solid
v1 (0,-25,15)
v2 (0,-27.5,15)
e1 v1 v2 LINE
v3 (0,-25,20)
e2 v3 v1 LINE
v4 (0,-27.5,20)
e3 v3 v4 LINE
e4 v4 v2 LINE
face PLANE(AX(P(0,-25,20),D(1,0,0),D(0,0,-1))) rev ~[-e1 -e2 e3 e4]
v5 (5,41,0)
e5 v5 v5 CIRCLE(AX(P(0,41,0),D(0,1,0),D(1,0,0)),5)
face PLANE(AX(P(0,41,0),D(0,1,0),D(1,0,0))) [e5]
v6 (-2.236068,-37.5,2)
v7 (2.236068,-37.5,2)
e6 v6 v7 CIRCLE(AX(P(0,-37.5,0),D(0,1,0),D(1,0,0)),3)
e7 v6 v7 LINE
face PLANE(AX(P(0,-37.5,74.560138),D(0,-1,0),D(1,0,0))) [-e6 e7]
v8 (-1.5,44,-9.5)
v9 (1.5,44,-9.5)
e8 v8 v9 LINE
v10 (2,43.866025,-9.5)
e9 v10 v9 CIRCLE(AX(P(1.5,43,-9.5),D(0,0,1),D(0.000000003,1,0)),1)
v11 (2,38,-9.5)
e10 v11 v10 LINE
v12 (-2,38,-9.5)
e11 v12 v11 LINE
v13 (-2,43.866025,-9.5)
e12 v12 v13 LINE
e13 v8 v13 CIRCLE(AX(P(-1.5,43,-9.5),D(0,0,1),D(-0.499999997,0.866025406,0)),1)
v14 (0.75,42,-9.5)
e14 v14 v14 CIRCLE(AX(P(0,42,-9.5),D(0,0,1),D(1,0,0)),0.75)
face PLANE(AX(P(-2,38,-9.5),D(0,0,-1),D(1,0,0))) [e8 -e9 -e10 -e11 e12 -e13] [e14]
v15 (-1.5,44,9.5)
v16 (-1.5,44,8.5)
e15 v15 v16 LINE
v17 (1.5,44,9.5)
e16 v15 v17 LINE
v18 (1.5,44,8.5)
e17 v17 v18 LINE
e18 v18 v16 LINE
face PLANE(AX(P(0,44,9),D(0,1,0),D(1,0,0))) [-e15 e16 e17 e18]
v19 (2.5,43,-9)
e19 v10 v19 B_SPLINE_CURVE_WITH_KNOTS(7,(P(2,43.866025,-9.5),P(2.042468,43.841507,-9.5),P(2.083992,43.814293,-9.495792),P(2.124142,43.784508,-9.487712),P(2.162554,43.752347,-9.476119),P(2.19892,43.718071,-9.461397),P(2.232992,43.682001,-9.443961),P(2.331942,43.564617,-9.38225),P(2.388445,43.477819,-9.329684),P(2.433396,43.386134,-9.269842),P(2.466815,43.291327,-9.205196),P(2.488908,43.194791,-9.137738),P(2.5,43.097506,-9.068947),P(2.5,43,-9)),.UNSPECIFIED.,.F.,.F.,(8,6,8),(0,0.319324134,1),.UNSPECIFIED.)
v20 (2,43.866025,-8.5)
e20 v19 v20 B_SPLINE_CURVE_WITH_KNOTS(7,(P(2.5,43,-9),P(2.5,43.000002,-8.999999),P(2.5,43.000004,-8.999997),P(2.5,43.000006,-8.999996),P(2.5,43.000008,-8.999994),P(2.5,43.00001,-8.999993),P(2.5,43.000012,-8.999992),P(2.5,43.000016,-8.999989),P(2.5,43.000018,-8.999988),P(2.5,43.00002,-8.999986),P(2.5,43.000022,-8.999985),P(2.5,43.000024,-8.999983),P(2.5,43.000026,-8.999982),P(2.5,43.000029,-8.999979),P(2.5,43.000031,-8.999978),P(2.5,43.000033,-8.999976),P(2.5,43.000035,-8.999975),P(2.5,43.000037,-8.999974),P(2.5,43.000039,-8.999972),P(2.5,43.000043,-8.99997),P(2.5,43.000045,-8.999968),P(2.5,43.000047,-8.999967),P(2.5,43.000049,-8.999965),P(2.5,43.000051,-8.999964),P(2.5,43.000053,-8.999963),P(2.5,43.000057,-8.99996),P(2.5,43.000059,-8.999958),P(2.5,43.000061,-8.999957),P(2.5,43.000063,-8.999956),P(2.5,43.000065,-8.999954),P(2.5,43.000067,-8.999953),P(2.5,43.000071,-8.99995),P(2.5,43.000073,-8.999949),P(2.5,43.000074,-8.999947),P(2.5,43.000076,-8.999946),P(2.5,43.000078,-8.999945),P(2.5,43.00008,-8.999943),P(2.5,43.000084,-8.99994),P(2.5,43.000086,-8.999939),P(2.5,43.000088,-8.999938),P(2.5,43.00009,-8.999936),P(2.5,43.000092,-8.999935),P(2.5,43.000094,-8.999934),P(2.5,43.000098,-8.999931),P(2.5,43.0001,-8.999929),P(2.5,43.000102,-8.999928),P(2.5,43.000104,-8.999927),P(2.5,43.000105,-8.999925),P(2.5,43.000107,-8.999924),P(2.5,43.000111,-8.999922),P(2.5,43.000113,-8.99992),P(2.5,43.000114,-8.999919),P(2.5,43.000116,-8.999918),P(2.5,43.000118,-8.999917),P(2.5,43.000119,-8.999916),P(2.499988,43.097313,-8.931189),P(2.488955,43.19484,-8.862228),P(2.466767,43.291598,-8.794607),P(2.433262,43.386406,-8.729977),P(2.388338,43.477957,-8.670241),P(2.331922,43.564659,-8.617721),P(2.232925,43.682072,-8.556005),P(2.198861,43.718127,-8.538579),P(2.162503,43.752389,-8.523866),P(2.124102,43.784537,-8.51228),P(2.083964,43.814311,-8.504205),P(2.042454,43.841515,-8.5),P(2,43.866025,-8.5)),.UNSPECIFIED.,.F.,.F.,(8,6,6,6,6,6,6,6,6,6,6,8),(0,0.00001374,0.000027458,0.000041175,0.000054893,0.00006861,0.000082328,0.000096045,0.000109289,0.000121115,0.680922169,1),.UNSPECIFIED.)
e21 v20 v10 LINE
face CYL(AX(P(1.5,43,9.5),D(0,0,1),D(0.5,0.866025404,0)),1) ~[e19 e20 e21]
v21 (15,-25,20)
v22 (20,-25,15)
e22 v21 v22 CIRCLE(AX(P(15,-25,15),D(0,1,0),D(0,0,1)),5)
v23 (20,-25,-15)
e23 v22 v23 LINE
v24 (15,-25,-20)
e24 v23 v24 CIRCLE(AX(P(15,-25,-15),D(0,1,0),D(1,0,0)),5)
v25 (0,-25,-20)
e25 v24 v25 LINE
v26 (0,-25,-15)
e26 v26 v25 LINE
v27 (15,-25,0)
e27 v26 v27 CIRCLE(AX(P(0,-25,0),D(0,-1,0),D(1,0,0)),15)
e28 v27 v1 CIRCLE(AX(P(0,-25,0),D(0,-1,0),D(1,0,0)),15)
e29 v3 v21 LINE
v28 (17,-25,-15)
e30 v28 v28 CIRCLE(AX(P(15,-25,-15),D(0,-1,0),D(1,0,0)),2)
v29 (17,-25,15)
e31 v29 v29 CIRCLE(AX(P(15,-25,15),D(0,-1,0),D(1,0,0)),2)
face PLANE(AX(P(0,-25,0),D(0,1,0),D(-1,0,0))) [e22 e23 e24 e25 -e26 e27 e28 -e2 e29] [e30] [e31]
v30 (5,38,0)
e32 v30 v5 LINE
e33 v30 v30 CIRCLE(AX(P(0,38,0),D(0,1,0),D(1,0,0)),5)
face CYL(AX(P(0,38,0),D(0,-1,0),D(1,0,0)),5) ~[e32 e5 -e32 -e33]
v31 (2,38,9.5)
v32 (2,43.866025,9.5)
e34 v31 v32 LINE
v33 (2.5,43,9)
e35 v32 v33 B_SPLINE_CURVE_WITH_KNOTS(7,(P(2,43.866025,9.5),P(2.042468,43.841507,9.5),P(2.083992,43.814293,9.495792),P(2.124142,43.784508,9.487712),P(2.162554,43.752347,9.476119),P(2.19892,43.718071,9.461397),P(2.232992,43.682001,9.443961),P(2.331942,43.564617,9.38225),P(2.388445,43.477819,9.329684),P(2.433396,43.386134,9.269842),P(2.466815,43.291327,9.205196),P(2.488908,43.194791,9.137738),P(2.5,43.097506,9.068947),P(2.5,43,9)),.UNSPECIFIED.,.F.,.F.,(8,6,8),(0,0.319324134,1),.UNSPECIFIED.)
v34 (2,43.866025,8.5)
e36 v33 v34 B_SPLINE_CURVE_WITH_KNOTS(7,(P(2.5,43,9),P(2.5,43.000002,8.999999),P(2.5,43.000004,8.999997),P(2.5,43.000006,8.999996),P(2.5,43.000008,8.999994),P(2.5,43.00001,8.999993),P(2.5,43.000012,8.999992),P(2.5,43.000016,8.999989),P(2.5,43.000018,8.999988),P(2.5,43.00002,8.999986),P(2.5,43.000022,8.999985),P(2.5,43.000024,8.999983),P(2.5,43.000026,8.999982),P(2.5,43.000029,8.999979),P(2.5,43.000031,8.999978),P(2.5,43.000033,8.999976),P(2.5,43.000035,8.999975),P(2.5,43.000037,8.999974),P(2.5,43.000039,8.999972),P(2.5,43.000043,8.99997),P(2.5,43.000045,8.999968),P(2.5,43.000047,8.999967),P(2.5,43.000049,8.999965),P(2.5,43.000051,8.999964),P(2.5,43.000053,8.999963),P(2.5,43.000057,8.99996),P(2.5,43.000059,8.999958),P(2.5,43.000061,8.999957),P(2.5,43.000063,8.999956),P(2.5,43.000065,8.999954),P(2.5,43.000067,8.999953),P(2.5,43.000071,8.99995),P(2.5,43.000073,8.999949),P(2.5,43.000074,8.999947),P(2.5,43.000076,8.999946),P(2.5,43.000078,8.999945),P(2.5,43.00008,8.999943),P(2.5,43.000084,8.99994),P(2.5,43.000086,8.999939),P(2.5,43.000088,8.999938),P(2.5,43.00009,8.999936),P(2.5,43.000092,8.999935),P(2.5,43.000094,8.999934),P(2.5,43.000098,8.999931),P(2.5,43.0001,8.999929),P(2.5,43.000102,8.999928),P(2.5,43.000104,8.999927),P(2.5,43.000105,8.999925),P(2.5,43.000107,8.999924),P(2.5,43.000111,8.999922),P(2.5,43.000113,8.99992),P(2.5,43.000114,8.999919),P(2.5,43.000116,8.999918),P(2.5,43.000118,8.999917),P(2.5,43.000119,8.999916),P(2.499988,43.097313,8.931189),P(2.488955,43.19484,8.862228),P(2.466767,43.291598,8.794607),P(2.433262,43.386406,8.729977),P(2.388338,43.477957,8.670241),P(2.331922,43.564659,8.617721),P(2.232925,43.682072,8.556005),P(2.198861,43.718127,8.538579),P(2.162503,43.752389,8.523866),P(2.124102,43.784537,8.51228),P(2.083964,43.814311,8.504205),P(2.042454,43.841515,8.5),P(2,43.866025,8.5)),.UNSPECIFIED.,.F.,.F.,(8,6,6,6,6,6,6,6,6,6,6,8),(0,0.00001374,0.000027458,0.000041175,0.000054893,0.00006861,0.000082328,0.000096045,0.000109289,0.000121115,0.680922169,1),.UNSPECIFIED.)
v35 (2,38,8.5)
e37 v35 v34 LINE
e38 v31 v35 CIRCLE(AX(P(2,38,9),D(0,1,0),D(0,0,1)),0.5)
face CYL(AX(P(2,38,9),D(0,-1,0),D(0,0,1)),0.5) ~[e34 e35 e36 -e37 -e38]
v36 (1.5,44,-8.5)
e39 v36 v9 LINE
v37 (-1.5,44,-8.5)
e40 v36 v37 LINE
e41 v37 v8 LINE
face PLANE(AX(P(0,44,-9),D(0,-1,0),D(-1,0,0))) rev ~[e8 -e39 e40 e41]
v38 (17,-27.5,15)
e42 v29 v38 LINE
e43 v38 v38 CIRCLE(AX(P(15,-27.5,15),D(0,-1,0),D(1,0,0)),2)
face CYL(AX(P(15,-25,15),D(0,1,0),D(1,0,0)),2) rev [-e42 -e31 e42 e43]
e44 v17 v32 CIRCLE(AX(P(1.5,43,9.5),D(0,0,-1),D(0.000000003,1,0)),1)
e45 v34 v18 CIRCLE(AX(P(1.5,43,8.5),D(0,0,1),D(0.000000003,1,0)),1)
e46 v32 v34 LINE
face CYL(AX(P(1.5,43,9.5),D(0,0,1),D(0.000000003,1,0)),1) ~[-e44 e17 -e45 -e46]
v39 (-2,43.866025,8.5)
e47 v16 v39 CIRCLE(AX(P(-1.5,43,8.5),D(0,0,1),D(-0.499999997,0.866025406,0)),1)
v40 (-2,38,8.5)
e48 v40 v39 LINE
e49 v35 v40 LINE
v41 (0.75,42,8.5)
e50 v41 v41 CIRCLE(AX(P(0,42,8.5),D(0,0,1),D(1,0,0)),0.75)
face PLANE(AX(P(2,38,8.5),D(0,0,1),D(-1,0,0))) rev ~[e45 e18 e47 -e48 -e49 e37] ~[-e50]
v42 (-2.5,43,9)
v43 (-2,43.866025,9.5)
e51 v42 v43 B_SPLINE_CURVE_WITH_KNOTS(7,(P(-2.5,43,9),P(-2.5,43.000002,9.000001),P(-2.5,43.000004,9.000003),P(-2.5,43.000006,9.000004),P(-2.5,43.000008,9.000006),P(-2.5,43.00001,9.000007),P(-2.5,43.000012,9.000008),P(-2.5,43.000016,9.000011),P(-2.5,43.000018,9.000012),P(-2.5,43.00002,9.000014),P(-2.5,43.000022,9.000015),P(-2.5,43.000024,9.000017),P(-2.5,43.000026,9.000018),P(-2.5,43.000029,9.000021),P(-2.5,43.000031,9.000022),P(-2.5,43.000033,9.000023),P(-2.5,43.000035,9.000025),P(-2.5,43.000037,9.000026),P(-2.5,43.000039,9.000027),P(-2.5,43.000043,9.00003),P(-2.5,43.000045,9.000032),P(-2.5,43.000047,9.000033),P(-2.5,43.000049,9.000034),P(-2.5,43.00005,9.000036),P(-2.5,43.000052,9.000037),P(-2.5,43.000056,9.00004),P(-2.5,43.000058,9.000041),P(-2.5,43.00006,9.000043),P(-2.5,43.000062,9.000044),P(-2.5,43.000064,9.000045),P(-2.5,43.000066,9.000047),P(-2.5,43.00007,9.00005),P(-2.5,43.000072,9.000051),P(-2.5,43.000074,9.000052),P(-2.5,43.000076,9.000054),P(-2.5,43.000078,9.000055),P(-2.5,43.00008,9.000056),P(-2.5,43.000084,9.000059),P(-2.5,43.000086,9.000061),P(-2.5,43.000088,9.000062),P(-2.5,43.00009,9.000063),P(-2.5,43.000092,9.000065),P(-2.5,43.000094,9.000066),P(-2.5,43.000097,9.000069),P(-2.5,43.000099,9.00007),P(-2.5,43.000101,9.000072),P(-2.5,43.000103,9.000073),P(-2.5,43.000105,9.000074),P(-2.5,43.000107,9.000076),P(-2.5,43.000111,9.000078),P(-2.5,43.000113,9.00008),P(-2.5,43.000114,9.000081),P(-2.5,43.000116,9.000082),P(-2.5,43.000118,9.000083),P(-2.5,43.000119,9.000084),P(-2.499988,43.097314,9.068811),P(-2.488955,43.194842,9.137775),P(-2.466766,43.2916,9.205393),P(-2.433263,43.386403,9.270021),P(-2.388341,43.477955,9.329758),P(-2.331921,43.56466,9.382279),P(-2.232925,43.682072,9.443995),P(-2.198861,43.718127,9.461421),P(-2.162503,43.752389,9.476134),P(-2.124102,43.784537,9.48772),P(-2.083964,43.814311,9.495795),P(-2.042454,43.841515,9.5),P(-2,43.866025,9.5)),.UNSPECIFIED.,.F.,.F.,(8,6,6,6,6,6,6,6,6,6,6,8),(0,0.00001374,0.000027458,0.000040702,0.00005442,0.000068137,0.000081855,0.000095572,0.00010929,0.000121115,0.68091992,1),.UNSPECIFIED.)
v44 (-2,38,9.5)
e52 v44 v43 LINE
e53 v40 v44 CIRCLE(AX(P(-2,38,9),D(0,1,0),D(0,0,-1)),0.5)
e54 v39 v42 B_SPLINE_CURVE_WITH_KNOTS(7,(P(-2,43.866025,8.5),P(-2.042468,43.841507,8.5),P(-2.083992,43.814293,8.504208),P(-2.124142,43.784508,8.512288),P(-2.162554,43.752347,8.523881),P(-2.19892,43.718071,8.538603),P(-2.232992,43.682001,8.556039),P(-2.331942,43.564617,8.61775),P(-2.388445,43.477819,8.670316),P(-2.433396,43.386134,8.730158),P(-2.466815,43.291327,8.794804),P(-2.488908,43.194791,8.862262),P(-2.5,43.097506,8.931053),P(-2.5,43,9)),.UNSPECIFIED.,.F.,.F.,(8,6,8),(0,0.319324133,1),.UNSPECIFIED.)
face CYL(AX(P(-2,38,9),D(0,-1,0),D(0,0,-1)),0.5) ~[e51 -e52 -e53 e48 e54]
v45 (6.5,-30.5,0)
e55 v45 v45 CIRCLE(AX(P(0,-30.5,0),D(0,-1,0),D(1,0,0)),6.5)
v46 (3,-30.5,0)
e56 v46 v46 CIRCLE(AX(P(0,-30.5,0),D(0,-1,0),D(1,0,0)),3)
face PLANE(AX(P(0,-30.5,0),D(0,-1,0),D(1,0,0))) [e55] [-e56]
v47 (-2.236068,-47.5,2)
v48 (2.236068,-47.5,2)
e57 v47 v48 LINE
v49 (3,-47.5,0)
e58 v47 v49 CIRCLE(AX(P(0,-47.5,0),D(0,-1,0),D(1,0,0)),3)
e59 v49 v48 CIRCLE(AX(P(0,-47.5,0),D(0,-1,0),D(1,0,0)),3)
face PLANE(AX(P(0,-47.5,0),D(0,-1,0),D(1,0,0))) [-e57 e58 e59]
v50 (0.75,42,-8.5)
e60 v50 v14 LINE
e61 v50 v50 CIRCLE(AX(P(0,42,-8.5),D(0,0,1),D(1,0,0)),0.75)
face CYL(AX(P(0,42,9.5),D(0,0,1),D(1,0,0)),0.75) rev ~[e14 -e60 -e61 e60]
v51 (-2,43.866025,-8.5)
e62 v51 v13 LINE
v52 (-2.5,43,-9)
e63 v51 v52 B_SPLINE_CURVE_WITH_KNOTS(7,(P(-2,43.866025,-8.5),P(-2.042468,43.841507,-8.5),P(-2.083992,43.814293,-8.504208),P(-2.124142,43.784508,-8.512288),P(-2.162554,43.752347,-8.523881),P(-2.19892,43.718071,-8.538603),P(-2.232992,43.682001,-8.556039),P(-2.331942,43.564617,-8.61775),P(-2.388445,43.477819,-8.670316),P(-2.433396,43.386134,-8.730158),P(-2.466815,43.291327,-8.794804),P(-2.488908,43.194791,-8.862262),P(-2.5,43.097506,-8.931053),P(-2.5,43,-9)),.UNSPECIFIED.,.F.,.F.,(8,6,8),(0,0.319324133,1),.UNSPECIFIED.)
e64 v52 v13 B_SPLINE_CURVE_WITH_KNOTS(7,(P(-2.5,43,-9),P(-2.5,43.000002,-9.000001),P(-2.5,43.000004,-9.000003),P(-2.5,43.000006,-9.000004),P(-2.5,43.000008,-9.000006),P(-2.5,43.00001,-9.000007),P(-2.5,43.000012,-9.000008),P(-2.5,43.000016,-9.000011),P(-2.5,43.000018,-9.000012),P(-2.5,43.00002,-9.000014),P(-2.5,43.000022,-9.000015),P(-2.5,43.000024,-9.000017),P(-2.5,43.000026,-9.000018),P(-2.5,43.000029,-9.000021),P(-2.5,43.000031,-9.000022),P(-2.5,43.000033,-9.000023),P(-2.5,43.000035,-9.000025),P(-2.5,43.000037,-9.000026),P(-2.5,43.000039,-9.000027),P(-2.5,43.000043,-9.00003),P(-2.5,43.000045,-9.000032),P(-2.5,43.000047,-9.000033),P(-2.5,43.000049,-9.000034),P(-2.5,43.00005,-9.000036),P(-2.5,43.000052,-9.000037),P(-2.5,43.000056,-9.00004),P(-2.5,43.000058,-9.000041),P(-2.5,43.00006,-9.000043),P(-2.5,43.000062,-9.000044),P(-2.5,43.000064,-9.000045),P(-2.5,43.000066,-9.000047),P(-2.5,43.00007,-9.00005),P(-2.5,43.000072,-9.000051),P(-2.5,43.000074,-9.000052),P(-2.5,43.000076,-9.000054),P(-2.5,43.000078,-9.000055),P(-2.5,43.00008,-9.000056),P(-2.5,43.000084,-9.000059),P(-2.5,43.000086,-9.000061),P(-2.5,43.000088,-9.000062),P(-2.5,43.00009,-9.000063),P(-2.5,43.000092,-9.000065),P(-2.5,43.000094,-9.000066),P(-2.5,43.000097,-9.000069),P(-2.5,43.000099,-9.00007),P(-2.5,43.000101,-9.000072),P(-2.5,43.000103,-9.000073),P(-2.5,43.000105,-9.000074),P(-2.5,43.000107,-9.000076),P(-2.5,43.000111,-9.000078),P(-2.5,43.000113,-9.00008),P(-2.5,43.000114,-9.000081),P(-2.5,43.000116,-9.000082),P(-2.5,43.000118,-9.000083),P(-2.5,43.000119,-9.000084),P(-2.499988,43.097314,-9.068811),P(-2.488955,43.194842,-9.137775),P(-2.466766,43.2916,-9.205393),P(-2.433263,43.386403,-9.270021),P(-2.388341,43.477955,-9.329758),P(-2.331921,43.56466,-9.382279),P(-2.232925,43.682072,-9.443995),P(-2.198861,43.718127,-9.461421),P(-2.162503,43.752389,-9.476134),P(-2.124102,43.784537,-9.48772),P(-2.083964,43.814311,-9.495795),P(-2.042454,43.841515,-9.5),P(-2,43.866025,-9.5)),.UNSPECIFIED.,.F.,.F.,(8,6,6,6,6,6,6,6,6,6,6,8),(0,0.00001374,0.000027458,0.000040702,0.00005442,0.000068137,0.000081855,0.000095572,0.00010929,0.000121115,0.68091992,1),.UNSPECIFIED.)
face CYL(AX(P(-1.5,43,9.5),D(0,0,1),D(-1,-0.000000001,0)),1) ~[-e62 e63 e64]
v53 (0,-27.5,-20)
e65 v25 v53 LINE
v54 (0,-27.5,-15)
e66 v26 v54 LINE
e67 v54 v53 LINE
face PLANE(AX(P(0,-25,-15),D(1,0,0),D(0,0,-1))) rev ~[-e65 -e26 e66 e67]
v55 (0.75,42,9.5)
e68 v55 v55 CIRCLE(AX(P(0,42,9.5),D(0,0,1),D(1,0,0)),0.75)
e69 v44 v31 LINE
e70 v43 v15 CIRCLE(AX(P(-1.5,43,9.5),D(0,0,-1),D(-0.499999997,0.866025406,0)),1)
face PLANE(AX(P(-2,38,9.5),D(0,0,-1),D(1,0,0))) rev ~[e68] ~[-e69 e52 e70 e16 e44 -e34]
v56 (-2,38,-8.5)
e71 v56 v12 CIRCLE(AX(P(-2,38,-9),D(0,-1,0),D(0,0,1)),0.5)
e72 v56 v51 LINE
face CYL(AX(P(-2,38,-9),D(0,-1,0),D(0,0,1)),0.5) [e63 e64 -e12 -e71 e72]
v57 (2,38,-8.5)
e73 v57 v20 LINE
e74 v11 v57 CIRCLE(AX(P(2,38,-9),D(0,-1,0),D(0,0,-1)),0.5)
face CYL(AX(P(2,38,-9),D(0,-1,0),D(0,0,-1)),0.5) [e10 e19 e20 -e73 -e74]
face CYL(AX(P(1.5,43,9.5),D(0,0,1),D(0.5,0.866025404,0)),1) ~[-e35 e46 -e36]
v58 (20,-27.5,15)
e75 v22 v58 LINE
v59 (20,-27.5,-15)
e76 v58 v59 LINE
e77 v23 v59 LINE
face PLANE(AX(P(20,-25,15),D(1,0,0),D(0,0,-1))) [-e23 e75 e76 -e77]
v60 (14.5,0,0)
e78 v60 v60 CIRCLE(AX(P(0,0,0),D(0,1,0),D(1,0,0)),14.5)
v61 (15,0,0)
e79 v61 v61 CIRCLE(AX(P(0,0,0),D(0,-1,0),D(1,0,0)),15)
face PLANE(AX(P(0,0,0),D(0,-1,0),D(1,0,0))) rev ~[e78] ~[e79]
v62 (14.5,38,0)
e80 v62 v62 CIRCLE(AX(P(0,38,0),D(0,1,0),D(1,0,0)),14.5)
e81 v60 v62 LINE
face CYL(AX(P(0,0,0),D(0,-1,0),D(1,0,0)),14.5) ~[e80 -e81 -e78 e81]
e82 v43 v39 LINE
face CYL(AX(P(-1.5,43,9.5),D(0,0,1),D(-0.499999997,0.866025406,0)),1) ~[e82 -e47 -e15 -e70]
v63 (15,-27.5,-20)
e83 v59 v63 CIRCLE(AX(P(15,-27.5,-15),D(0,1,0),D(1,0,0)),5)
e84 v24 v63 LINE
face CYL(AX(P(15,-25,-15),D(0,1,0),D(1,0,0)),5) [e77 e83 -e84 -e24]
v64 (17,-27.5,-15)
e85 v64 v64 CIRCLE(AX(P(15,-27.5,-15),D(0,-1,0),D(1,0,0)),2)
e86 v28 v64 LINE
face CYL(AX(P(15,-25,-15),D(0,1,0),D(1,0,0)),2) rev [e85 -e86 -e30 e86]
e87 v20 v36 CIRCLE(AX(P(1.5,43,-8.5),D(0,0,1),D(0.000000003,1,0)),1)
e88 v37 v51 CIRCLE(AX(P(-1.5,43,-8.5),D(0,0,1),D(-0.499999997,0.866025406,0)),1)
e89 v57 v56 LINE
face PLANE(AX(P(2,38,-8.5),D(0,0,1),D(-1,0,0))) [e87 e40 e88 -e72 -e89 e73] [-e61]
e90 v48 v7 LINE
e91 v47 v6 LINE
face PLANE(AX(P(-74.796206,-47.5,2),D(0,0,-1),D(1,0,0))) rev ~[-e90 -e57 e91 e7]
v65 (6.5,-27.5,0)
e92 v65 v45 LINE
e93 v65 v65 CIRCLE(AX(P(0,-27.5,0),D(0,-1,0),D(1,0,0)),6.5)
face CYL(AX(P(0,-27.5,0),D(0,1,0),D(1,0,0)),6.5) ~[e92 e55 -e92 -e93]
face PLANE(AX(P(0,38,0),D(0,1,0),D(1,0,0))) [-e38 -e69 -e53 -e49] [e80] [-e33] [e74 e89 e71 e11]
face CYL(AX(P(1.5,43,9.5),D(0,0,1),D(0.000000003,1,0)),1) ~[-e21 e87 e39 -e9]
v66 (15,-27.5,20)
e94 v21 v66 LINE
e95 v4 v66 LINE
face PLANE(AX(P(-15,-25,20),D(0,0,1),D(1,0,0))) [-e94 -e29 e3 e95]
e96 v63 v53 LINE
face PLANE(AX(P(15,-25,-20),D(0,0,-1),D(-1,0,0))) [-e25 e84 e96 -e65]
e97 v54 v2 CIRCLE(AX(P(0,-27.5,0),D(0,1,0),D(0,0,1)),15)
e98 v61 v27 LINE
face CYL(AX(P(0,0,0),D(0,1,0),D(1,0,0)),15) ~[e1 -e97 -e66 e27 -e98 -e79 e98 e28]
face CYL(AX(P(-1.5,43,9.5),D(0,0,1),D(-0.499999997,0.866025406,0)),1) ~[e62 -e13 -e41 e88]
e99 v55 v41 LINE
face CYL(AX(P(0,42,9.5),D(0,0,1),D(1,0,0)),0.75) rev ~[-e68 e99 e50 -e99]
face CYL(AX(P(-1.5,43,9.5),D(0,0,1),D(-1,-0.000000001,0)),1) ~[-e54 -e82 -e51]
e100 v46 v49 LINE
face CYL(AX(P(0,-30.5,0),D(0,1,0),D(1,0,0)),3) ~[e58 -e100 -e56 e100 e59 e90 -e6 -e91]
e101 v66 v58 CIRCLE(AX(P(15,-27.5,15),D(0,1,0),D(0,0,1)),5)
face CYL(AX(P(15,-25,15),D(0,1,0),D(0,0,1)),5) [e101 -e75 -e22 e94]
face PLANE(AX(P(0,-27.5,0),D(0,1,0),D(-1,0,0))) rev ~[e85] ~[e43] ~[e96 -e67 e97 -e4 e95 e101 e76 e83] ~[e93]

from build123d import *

# Parameters (mm, degrees)
CROQUIS1_R               = 14.5
MOTOR_DEPTH              = 38
CROQUIS2_R               = 5
SALIENTE_POSTERIOR_DEPTH = 3
BORNES_DEPTH             = 6
CROQUIS4_R               = 0.75
AGUJERO_BORNES_DEPTH     = 25
CROQUIS5_R               = 15
CAJA_REDUCTORA_DEPTH     = 25
CROQUIS6_R               = 2
BRIDA_DEPTH              = 2.5
CROQUIS7_R               = 6.5
SALIENTE_EJE_DEPTH       = 3
CROQUIS8_R               = 3
EJE_DEPTH                = 17
CORTE_PLANO_EJE_DEPTH    = 10
CROQUIS10_R              = 2
CORTE_BRIDA_DEPTH        = 10


with BuildPart() as part:
    # Croquis1 → Motor (new body)
    with BuildSketch(Plane(origin=(0, 0, 0), x_dir=(1, 0, 0), z_dir=(0, 1, 0))):
        Circle(CROQUIS1_R)
    extrude(amount=MOTOR_DEPTH)

    # Croquis2 → Saliente posterior (add)
    with BuildSketch(Plane(origin=(0, 38, 0), x_dir=(1, 0, 0), z_dir=(0, 1, 0))):
        Circle(CROQUIS2_R)
    extrude(amount=SALIENTE_POSTERIOR_DEPTH)

    # Croquis3 → Bornes (add)
    with BuildSketch(Plane(origin=(0, 38, 0), x_dir=(1, 0, 0), z_dir=(0, 1, 0))):
        with BuildLine():
            Line((-2, 9.5), (2, 9.5))
            ThreePointArc((2, 9.5), (2.5, 9), (2, 8.5))
            Line((2, 8.5), (-2, 8.5))
            ThreePointArc((-2, 8.5), (-2.5, 9), (-2, 9.5))
        make_face()
        with BuildLine():
            Line((-2, -9.5), (2, -9.5))
            ThreePointArc((2, -9.5), (2.5, -9), (2, -8.5))
            Line((2, -8.5), (-2, -8.5))
            ThreePointArc((-2, -8.5), (-2.5, -9), (-2, -9.5))
        make_face()
    extrude(amount=BORNES_DEPTH)

    # Croquis4 → Agujero Bornes (cut, through all)
    with BuildSketch(Plane.XY.offset(9.5)):
        with Locations((0, 42)):
            Circle(CROQUIS4_R)
        with BuildLine():
            ThreePointArc((2, 43.866025404), (2.366025404, 43.5), (2.5, 43))
            Line((2.5, 43), (2.5, 44))
            Line((2.5, 44), (2, 44))
            Line((2, 44), (2, 43.866025404))
        make_face()
        with BuildLine():
            ThreePointArc((1.5, 44), (1.758819045, 43.965925826), (2, 43.866025404))
            Line((2, 43.866025404), (2, 44))
            Line((2, 44), (1.5, 44))
        make_face()
        with BuildLine():
            Line((-2, 43.866025404), (-2, 44))
            Line((-2, 44), (-2.5, 44))
            Line((-2.5, 44), (-2.5, 43))
            ThreePointArc((-2.5, 43), (-2.366025404, 43.5), (-2, 43.866025404))
        make_face()
        with BuildLine():
            ThreePointArc((-2, 43.866025404), (-1.758819045, 43.965925826), (-1.5, 44))
            Line((-1.5, 44), (-2, 44))
            Line((-2, 44), (-2, 43.866025404))
        make_face()
    extrude(amount=-AGUJERO_BORNES_DEPTH, mode=Mode.SUBTRACT)

    # Croquis5 → Caja reductora (add)
    with BuildSketch(Plane.XZ):
        Circle(CROQUIS5_R)
    extrude(amount=CAJA_REDUCTORA_DEPTH)

    # Croquis6 → Brida (add)
    with BuildSketch(Plane.XZ.offset(25)):
        with BuildLine():
            Line((-15, 20), (15, 20))
            ThreePointArc((15, 20), (18.535533906, 18.535533906), (20, 15))
            Line((20, 15), (20, -15))
            ThreePointArc((20, -15), (18.535533906, -18.535533906), (15, -20))
            Line((15, -20), (-15, -20))
            ThreePointArc((-15, -20), (-18.535533906, -18.535533906), (-20, -15))
            Line((-20, -15), (-20, 15))
            ThreePointArc((-20, 15), (-18.535533906, 18.535533906), (-15, 20))
        make_face()
        with Locations((-15, 15)):
            Circle(CROQUIS6_R, mode=Mode.SUBTRACT)
        with Locations((15, 15)):
            Circle(CROQUIS6_R, mode=Mode.SUBTRACT)
        with Locations((15, -15)):
            Circle(CROQUIS6_R, mode=Mode.SUBTRACT)
        with Locations((-15, -15)):
            Circle(CROQUIS6_R, mode=Mode.SUBTRACT)
    extrude(amount=BRIDA_DEPTH)

    # Croquis7 → Saliente eje (add)
    with BuildSketch(Plane.XZ.offset(27.5)):
        Circle(CROQUIS7_R)
    extrude(amount=SALIENTE_EJE_DEPTH)

    # Croquis8 → Eje (add)
    with BuildSketch(Plane.XZ.offset(30.5)):
        Circle(CROQUIS8_R)
    extrude(amount=EJE_DEPTH)

    # Croquis9 → Corte Plano eje (cut)
    with BuildSketch(Plane.XZ.offset(47.5)):
        Polygon((-74.796206056, 2), (-2.236067977, 2), (2.236067977, 2), (74.796206056, 2), (74.796206056, 147.120276157), (-74.796206056, 147.120276157), align=None)
    extrude(amount=-CORTE_PLANO_EJE_DEPTH, mode=Mode.SUBTRACT)

    # Croquis10 → Corte Brida (cut)
    with BuildSketch(Plane(origin=(0, -25, 0), x_dir=(1, 0, 0), z_dir=(0, 1, 0))):
        with BuildLine():
            Line((0, 15), (0, 20))
            Line((0, 20), (-15, 20))
            ThreePointArc((-15, 20), (-18.535533906, 18.535533906), (-20, 15))
            Line((-20, 15), (-20, -15))
            ThreePointArc((-20, -15), (-18.535533906, -18.535533906), (-15, -20))
            Line((-15, -20), (0, -20))
            Line((0, -20), (0, -15))
            ThreePointArc((0, -15), (-15, 0), (0, 15))
        make_face()
        with Locations((-15, -15)):
            Circle(CROQUIS10_R, mode=Mode.SUBTRACT)
        with Locations((-15, 15)):
            Circle(CROQUIS10_R, mode=Mode.SUBTRACT)
    extrude(amount=-CORTE_BRIDA_DEPTH, mode=Mode.SUBTRACT)


solid = part.part
